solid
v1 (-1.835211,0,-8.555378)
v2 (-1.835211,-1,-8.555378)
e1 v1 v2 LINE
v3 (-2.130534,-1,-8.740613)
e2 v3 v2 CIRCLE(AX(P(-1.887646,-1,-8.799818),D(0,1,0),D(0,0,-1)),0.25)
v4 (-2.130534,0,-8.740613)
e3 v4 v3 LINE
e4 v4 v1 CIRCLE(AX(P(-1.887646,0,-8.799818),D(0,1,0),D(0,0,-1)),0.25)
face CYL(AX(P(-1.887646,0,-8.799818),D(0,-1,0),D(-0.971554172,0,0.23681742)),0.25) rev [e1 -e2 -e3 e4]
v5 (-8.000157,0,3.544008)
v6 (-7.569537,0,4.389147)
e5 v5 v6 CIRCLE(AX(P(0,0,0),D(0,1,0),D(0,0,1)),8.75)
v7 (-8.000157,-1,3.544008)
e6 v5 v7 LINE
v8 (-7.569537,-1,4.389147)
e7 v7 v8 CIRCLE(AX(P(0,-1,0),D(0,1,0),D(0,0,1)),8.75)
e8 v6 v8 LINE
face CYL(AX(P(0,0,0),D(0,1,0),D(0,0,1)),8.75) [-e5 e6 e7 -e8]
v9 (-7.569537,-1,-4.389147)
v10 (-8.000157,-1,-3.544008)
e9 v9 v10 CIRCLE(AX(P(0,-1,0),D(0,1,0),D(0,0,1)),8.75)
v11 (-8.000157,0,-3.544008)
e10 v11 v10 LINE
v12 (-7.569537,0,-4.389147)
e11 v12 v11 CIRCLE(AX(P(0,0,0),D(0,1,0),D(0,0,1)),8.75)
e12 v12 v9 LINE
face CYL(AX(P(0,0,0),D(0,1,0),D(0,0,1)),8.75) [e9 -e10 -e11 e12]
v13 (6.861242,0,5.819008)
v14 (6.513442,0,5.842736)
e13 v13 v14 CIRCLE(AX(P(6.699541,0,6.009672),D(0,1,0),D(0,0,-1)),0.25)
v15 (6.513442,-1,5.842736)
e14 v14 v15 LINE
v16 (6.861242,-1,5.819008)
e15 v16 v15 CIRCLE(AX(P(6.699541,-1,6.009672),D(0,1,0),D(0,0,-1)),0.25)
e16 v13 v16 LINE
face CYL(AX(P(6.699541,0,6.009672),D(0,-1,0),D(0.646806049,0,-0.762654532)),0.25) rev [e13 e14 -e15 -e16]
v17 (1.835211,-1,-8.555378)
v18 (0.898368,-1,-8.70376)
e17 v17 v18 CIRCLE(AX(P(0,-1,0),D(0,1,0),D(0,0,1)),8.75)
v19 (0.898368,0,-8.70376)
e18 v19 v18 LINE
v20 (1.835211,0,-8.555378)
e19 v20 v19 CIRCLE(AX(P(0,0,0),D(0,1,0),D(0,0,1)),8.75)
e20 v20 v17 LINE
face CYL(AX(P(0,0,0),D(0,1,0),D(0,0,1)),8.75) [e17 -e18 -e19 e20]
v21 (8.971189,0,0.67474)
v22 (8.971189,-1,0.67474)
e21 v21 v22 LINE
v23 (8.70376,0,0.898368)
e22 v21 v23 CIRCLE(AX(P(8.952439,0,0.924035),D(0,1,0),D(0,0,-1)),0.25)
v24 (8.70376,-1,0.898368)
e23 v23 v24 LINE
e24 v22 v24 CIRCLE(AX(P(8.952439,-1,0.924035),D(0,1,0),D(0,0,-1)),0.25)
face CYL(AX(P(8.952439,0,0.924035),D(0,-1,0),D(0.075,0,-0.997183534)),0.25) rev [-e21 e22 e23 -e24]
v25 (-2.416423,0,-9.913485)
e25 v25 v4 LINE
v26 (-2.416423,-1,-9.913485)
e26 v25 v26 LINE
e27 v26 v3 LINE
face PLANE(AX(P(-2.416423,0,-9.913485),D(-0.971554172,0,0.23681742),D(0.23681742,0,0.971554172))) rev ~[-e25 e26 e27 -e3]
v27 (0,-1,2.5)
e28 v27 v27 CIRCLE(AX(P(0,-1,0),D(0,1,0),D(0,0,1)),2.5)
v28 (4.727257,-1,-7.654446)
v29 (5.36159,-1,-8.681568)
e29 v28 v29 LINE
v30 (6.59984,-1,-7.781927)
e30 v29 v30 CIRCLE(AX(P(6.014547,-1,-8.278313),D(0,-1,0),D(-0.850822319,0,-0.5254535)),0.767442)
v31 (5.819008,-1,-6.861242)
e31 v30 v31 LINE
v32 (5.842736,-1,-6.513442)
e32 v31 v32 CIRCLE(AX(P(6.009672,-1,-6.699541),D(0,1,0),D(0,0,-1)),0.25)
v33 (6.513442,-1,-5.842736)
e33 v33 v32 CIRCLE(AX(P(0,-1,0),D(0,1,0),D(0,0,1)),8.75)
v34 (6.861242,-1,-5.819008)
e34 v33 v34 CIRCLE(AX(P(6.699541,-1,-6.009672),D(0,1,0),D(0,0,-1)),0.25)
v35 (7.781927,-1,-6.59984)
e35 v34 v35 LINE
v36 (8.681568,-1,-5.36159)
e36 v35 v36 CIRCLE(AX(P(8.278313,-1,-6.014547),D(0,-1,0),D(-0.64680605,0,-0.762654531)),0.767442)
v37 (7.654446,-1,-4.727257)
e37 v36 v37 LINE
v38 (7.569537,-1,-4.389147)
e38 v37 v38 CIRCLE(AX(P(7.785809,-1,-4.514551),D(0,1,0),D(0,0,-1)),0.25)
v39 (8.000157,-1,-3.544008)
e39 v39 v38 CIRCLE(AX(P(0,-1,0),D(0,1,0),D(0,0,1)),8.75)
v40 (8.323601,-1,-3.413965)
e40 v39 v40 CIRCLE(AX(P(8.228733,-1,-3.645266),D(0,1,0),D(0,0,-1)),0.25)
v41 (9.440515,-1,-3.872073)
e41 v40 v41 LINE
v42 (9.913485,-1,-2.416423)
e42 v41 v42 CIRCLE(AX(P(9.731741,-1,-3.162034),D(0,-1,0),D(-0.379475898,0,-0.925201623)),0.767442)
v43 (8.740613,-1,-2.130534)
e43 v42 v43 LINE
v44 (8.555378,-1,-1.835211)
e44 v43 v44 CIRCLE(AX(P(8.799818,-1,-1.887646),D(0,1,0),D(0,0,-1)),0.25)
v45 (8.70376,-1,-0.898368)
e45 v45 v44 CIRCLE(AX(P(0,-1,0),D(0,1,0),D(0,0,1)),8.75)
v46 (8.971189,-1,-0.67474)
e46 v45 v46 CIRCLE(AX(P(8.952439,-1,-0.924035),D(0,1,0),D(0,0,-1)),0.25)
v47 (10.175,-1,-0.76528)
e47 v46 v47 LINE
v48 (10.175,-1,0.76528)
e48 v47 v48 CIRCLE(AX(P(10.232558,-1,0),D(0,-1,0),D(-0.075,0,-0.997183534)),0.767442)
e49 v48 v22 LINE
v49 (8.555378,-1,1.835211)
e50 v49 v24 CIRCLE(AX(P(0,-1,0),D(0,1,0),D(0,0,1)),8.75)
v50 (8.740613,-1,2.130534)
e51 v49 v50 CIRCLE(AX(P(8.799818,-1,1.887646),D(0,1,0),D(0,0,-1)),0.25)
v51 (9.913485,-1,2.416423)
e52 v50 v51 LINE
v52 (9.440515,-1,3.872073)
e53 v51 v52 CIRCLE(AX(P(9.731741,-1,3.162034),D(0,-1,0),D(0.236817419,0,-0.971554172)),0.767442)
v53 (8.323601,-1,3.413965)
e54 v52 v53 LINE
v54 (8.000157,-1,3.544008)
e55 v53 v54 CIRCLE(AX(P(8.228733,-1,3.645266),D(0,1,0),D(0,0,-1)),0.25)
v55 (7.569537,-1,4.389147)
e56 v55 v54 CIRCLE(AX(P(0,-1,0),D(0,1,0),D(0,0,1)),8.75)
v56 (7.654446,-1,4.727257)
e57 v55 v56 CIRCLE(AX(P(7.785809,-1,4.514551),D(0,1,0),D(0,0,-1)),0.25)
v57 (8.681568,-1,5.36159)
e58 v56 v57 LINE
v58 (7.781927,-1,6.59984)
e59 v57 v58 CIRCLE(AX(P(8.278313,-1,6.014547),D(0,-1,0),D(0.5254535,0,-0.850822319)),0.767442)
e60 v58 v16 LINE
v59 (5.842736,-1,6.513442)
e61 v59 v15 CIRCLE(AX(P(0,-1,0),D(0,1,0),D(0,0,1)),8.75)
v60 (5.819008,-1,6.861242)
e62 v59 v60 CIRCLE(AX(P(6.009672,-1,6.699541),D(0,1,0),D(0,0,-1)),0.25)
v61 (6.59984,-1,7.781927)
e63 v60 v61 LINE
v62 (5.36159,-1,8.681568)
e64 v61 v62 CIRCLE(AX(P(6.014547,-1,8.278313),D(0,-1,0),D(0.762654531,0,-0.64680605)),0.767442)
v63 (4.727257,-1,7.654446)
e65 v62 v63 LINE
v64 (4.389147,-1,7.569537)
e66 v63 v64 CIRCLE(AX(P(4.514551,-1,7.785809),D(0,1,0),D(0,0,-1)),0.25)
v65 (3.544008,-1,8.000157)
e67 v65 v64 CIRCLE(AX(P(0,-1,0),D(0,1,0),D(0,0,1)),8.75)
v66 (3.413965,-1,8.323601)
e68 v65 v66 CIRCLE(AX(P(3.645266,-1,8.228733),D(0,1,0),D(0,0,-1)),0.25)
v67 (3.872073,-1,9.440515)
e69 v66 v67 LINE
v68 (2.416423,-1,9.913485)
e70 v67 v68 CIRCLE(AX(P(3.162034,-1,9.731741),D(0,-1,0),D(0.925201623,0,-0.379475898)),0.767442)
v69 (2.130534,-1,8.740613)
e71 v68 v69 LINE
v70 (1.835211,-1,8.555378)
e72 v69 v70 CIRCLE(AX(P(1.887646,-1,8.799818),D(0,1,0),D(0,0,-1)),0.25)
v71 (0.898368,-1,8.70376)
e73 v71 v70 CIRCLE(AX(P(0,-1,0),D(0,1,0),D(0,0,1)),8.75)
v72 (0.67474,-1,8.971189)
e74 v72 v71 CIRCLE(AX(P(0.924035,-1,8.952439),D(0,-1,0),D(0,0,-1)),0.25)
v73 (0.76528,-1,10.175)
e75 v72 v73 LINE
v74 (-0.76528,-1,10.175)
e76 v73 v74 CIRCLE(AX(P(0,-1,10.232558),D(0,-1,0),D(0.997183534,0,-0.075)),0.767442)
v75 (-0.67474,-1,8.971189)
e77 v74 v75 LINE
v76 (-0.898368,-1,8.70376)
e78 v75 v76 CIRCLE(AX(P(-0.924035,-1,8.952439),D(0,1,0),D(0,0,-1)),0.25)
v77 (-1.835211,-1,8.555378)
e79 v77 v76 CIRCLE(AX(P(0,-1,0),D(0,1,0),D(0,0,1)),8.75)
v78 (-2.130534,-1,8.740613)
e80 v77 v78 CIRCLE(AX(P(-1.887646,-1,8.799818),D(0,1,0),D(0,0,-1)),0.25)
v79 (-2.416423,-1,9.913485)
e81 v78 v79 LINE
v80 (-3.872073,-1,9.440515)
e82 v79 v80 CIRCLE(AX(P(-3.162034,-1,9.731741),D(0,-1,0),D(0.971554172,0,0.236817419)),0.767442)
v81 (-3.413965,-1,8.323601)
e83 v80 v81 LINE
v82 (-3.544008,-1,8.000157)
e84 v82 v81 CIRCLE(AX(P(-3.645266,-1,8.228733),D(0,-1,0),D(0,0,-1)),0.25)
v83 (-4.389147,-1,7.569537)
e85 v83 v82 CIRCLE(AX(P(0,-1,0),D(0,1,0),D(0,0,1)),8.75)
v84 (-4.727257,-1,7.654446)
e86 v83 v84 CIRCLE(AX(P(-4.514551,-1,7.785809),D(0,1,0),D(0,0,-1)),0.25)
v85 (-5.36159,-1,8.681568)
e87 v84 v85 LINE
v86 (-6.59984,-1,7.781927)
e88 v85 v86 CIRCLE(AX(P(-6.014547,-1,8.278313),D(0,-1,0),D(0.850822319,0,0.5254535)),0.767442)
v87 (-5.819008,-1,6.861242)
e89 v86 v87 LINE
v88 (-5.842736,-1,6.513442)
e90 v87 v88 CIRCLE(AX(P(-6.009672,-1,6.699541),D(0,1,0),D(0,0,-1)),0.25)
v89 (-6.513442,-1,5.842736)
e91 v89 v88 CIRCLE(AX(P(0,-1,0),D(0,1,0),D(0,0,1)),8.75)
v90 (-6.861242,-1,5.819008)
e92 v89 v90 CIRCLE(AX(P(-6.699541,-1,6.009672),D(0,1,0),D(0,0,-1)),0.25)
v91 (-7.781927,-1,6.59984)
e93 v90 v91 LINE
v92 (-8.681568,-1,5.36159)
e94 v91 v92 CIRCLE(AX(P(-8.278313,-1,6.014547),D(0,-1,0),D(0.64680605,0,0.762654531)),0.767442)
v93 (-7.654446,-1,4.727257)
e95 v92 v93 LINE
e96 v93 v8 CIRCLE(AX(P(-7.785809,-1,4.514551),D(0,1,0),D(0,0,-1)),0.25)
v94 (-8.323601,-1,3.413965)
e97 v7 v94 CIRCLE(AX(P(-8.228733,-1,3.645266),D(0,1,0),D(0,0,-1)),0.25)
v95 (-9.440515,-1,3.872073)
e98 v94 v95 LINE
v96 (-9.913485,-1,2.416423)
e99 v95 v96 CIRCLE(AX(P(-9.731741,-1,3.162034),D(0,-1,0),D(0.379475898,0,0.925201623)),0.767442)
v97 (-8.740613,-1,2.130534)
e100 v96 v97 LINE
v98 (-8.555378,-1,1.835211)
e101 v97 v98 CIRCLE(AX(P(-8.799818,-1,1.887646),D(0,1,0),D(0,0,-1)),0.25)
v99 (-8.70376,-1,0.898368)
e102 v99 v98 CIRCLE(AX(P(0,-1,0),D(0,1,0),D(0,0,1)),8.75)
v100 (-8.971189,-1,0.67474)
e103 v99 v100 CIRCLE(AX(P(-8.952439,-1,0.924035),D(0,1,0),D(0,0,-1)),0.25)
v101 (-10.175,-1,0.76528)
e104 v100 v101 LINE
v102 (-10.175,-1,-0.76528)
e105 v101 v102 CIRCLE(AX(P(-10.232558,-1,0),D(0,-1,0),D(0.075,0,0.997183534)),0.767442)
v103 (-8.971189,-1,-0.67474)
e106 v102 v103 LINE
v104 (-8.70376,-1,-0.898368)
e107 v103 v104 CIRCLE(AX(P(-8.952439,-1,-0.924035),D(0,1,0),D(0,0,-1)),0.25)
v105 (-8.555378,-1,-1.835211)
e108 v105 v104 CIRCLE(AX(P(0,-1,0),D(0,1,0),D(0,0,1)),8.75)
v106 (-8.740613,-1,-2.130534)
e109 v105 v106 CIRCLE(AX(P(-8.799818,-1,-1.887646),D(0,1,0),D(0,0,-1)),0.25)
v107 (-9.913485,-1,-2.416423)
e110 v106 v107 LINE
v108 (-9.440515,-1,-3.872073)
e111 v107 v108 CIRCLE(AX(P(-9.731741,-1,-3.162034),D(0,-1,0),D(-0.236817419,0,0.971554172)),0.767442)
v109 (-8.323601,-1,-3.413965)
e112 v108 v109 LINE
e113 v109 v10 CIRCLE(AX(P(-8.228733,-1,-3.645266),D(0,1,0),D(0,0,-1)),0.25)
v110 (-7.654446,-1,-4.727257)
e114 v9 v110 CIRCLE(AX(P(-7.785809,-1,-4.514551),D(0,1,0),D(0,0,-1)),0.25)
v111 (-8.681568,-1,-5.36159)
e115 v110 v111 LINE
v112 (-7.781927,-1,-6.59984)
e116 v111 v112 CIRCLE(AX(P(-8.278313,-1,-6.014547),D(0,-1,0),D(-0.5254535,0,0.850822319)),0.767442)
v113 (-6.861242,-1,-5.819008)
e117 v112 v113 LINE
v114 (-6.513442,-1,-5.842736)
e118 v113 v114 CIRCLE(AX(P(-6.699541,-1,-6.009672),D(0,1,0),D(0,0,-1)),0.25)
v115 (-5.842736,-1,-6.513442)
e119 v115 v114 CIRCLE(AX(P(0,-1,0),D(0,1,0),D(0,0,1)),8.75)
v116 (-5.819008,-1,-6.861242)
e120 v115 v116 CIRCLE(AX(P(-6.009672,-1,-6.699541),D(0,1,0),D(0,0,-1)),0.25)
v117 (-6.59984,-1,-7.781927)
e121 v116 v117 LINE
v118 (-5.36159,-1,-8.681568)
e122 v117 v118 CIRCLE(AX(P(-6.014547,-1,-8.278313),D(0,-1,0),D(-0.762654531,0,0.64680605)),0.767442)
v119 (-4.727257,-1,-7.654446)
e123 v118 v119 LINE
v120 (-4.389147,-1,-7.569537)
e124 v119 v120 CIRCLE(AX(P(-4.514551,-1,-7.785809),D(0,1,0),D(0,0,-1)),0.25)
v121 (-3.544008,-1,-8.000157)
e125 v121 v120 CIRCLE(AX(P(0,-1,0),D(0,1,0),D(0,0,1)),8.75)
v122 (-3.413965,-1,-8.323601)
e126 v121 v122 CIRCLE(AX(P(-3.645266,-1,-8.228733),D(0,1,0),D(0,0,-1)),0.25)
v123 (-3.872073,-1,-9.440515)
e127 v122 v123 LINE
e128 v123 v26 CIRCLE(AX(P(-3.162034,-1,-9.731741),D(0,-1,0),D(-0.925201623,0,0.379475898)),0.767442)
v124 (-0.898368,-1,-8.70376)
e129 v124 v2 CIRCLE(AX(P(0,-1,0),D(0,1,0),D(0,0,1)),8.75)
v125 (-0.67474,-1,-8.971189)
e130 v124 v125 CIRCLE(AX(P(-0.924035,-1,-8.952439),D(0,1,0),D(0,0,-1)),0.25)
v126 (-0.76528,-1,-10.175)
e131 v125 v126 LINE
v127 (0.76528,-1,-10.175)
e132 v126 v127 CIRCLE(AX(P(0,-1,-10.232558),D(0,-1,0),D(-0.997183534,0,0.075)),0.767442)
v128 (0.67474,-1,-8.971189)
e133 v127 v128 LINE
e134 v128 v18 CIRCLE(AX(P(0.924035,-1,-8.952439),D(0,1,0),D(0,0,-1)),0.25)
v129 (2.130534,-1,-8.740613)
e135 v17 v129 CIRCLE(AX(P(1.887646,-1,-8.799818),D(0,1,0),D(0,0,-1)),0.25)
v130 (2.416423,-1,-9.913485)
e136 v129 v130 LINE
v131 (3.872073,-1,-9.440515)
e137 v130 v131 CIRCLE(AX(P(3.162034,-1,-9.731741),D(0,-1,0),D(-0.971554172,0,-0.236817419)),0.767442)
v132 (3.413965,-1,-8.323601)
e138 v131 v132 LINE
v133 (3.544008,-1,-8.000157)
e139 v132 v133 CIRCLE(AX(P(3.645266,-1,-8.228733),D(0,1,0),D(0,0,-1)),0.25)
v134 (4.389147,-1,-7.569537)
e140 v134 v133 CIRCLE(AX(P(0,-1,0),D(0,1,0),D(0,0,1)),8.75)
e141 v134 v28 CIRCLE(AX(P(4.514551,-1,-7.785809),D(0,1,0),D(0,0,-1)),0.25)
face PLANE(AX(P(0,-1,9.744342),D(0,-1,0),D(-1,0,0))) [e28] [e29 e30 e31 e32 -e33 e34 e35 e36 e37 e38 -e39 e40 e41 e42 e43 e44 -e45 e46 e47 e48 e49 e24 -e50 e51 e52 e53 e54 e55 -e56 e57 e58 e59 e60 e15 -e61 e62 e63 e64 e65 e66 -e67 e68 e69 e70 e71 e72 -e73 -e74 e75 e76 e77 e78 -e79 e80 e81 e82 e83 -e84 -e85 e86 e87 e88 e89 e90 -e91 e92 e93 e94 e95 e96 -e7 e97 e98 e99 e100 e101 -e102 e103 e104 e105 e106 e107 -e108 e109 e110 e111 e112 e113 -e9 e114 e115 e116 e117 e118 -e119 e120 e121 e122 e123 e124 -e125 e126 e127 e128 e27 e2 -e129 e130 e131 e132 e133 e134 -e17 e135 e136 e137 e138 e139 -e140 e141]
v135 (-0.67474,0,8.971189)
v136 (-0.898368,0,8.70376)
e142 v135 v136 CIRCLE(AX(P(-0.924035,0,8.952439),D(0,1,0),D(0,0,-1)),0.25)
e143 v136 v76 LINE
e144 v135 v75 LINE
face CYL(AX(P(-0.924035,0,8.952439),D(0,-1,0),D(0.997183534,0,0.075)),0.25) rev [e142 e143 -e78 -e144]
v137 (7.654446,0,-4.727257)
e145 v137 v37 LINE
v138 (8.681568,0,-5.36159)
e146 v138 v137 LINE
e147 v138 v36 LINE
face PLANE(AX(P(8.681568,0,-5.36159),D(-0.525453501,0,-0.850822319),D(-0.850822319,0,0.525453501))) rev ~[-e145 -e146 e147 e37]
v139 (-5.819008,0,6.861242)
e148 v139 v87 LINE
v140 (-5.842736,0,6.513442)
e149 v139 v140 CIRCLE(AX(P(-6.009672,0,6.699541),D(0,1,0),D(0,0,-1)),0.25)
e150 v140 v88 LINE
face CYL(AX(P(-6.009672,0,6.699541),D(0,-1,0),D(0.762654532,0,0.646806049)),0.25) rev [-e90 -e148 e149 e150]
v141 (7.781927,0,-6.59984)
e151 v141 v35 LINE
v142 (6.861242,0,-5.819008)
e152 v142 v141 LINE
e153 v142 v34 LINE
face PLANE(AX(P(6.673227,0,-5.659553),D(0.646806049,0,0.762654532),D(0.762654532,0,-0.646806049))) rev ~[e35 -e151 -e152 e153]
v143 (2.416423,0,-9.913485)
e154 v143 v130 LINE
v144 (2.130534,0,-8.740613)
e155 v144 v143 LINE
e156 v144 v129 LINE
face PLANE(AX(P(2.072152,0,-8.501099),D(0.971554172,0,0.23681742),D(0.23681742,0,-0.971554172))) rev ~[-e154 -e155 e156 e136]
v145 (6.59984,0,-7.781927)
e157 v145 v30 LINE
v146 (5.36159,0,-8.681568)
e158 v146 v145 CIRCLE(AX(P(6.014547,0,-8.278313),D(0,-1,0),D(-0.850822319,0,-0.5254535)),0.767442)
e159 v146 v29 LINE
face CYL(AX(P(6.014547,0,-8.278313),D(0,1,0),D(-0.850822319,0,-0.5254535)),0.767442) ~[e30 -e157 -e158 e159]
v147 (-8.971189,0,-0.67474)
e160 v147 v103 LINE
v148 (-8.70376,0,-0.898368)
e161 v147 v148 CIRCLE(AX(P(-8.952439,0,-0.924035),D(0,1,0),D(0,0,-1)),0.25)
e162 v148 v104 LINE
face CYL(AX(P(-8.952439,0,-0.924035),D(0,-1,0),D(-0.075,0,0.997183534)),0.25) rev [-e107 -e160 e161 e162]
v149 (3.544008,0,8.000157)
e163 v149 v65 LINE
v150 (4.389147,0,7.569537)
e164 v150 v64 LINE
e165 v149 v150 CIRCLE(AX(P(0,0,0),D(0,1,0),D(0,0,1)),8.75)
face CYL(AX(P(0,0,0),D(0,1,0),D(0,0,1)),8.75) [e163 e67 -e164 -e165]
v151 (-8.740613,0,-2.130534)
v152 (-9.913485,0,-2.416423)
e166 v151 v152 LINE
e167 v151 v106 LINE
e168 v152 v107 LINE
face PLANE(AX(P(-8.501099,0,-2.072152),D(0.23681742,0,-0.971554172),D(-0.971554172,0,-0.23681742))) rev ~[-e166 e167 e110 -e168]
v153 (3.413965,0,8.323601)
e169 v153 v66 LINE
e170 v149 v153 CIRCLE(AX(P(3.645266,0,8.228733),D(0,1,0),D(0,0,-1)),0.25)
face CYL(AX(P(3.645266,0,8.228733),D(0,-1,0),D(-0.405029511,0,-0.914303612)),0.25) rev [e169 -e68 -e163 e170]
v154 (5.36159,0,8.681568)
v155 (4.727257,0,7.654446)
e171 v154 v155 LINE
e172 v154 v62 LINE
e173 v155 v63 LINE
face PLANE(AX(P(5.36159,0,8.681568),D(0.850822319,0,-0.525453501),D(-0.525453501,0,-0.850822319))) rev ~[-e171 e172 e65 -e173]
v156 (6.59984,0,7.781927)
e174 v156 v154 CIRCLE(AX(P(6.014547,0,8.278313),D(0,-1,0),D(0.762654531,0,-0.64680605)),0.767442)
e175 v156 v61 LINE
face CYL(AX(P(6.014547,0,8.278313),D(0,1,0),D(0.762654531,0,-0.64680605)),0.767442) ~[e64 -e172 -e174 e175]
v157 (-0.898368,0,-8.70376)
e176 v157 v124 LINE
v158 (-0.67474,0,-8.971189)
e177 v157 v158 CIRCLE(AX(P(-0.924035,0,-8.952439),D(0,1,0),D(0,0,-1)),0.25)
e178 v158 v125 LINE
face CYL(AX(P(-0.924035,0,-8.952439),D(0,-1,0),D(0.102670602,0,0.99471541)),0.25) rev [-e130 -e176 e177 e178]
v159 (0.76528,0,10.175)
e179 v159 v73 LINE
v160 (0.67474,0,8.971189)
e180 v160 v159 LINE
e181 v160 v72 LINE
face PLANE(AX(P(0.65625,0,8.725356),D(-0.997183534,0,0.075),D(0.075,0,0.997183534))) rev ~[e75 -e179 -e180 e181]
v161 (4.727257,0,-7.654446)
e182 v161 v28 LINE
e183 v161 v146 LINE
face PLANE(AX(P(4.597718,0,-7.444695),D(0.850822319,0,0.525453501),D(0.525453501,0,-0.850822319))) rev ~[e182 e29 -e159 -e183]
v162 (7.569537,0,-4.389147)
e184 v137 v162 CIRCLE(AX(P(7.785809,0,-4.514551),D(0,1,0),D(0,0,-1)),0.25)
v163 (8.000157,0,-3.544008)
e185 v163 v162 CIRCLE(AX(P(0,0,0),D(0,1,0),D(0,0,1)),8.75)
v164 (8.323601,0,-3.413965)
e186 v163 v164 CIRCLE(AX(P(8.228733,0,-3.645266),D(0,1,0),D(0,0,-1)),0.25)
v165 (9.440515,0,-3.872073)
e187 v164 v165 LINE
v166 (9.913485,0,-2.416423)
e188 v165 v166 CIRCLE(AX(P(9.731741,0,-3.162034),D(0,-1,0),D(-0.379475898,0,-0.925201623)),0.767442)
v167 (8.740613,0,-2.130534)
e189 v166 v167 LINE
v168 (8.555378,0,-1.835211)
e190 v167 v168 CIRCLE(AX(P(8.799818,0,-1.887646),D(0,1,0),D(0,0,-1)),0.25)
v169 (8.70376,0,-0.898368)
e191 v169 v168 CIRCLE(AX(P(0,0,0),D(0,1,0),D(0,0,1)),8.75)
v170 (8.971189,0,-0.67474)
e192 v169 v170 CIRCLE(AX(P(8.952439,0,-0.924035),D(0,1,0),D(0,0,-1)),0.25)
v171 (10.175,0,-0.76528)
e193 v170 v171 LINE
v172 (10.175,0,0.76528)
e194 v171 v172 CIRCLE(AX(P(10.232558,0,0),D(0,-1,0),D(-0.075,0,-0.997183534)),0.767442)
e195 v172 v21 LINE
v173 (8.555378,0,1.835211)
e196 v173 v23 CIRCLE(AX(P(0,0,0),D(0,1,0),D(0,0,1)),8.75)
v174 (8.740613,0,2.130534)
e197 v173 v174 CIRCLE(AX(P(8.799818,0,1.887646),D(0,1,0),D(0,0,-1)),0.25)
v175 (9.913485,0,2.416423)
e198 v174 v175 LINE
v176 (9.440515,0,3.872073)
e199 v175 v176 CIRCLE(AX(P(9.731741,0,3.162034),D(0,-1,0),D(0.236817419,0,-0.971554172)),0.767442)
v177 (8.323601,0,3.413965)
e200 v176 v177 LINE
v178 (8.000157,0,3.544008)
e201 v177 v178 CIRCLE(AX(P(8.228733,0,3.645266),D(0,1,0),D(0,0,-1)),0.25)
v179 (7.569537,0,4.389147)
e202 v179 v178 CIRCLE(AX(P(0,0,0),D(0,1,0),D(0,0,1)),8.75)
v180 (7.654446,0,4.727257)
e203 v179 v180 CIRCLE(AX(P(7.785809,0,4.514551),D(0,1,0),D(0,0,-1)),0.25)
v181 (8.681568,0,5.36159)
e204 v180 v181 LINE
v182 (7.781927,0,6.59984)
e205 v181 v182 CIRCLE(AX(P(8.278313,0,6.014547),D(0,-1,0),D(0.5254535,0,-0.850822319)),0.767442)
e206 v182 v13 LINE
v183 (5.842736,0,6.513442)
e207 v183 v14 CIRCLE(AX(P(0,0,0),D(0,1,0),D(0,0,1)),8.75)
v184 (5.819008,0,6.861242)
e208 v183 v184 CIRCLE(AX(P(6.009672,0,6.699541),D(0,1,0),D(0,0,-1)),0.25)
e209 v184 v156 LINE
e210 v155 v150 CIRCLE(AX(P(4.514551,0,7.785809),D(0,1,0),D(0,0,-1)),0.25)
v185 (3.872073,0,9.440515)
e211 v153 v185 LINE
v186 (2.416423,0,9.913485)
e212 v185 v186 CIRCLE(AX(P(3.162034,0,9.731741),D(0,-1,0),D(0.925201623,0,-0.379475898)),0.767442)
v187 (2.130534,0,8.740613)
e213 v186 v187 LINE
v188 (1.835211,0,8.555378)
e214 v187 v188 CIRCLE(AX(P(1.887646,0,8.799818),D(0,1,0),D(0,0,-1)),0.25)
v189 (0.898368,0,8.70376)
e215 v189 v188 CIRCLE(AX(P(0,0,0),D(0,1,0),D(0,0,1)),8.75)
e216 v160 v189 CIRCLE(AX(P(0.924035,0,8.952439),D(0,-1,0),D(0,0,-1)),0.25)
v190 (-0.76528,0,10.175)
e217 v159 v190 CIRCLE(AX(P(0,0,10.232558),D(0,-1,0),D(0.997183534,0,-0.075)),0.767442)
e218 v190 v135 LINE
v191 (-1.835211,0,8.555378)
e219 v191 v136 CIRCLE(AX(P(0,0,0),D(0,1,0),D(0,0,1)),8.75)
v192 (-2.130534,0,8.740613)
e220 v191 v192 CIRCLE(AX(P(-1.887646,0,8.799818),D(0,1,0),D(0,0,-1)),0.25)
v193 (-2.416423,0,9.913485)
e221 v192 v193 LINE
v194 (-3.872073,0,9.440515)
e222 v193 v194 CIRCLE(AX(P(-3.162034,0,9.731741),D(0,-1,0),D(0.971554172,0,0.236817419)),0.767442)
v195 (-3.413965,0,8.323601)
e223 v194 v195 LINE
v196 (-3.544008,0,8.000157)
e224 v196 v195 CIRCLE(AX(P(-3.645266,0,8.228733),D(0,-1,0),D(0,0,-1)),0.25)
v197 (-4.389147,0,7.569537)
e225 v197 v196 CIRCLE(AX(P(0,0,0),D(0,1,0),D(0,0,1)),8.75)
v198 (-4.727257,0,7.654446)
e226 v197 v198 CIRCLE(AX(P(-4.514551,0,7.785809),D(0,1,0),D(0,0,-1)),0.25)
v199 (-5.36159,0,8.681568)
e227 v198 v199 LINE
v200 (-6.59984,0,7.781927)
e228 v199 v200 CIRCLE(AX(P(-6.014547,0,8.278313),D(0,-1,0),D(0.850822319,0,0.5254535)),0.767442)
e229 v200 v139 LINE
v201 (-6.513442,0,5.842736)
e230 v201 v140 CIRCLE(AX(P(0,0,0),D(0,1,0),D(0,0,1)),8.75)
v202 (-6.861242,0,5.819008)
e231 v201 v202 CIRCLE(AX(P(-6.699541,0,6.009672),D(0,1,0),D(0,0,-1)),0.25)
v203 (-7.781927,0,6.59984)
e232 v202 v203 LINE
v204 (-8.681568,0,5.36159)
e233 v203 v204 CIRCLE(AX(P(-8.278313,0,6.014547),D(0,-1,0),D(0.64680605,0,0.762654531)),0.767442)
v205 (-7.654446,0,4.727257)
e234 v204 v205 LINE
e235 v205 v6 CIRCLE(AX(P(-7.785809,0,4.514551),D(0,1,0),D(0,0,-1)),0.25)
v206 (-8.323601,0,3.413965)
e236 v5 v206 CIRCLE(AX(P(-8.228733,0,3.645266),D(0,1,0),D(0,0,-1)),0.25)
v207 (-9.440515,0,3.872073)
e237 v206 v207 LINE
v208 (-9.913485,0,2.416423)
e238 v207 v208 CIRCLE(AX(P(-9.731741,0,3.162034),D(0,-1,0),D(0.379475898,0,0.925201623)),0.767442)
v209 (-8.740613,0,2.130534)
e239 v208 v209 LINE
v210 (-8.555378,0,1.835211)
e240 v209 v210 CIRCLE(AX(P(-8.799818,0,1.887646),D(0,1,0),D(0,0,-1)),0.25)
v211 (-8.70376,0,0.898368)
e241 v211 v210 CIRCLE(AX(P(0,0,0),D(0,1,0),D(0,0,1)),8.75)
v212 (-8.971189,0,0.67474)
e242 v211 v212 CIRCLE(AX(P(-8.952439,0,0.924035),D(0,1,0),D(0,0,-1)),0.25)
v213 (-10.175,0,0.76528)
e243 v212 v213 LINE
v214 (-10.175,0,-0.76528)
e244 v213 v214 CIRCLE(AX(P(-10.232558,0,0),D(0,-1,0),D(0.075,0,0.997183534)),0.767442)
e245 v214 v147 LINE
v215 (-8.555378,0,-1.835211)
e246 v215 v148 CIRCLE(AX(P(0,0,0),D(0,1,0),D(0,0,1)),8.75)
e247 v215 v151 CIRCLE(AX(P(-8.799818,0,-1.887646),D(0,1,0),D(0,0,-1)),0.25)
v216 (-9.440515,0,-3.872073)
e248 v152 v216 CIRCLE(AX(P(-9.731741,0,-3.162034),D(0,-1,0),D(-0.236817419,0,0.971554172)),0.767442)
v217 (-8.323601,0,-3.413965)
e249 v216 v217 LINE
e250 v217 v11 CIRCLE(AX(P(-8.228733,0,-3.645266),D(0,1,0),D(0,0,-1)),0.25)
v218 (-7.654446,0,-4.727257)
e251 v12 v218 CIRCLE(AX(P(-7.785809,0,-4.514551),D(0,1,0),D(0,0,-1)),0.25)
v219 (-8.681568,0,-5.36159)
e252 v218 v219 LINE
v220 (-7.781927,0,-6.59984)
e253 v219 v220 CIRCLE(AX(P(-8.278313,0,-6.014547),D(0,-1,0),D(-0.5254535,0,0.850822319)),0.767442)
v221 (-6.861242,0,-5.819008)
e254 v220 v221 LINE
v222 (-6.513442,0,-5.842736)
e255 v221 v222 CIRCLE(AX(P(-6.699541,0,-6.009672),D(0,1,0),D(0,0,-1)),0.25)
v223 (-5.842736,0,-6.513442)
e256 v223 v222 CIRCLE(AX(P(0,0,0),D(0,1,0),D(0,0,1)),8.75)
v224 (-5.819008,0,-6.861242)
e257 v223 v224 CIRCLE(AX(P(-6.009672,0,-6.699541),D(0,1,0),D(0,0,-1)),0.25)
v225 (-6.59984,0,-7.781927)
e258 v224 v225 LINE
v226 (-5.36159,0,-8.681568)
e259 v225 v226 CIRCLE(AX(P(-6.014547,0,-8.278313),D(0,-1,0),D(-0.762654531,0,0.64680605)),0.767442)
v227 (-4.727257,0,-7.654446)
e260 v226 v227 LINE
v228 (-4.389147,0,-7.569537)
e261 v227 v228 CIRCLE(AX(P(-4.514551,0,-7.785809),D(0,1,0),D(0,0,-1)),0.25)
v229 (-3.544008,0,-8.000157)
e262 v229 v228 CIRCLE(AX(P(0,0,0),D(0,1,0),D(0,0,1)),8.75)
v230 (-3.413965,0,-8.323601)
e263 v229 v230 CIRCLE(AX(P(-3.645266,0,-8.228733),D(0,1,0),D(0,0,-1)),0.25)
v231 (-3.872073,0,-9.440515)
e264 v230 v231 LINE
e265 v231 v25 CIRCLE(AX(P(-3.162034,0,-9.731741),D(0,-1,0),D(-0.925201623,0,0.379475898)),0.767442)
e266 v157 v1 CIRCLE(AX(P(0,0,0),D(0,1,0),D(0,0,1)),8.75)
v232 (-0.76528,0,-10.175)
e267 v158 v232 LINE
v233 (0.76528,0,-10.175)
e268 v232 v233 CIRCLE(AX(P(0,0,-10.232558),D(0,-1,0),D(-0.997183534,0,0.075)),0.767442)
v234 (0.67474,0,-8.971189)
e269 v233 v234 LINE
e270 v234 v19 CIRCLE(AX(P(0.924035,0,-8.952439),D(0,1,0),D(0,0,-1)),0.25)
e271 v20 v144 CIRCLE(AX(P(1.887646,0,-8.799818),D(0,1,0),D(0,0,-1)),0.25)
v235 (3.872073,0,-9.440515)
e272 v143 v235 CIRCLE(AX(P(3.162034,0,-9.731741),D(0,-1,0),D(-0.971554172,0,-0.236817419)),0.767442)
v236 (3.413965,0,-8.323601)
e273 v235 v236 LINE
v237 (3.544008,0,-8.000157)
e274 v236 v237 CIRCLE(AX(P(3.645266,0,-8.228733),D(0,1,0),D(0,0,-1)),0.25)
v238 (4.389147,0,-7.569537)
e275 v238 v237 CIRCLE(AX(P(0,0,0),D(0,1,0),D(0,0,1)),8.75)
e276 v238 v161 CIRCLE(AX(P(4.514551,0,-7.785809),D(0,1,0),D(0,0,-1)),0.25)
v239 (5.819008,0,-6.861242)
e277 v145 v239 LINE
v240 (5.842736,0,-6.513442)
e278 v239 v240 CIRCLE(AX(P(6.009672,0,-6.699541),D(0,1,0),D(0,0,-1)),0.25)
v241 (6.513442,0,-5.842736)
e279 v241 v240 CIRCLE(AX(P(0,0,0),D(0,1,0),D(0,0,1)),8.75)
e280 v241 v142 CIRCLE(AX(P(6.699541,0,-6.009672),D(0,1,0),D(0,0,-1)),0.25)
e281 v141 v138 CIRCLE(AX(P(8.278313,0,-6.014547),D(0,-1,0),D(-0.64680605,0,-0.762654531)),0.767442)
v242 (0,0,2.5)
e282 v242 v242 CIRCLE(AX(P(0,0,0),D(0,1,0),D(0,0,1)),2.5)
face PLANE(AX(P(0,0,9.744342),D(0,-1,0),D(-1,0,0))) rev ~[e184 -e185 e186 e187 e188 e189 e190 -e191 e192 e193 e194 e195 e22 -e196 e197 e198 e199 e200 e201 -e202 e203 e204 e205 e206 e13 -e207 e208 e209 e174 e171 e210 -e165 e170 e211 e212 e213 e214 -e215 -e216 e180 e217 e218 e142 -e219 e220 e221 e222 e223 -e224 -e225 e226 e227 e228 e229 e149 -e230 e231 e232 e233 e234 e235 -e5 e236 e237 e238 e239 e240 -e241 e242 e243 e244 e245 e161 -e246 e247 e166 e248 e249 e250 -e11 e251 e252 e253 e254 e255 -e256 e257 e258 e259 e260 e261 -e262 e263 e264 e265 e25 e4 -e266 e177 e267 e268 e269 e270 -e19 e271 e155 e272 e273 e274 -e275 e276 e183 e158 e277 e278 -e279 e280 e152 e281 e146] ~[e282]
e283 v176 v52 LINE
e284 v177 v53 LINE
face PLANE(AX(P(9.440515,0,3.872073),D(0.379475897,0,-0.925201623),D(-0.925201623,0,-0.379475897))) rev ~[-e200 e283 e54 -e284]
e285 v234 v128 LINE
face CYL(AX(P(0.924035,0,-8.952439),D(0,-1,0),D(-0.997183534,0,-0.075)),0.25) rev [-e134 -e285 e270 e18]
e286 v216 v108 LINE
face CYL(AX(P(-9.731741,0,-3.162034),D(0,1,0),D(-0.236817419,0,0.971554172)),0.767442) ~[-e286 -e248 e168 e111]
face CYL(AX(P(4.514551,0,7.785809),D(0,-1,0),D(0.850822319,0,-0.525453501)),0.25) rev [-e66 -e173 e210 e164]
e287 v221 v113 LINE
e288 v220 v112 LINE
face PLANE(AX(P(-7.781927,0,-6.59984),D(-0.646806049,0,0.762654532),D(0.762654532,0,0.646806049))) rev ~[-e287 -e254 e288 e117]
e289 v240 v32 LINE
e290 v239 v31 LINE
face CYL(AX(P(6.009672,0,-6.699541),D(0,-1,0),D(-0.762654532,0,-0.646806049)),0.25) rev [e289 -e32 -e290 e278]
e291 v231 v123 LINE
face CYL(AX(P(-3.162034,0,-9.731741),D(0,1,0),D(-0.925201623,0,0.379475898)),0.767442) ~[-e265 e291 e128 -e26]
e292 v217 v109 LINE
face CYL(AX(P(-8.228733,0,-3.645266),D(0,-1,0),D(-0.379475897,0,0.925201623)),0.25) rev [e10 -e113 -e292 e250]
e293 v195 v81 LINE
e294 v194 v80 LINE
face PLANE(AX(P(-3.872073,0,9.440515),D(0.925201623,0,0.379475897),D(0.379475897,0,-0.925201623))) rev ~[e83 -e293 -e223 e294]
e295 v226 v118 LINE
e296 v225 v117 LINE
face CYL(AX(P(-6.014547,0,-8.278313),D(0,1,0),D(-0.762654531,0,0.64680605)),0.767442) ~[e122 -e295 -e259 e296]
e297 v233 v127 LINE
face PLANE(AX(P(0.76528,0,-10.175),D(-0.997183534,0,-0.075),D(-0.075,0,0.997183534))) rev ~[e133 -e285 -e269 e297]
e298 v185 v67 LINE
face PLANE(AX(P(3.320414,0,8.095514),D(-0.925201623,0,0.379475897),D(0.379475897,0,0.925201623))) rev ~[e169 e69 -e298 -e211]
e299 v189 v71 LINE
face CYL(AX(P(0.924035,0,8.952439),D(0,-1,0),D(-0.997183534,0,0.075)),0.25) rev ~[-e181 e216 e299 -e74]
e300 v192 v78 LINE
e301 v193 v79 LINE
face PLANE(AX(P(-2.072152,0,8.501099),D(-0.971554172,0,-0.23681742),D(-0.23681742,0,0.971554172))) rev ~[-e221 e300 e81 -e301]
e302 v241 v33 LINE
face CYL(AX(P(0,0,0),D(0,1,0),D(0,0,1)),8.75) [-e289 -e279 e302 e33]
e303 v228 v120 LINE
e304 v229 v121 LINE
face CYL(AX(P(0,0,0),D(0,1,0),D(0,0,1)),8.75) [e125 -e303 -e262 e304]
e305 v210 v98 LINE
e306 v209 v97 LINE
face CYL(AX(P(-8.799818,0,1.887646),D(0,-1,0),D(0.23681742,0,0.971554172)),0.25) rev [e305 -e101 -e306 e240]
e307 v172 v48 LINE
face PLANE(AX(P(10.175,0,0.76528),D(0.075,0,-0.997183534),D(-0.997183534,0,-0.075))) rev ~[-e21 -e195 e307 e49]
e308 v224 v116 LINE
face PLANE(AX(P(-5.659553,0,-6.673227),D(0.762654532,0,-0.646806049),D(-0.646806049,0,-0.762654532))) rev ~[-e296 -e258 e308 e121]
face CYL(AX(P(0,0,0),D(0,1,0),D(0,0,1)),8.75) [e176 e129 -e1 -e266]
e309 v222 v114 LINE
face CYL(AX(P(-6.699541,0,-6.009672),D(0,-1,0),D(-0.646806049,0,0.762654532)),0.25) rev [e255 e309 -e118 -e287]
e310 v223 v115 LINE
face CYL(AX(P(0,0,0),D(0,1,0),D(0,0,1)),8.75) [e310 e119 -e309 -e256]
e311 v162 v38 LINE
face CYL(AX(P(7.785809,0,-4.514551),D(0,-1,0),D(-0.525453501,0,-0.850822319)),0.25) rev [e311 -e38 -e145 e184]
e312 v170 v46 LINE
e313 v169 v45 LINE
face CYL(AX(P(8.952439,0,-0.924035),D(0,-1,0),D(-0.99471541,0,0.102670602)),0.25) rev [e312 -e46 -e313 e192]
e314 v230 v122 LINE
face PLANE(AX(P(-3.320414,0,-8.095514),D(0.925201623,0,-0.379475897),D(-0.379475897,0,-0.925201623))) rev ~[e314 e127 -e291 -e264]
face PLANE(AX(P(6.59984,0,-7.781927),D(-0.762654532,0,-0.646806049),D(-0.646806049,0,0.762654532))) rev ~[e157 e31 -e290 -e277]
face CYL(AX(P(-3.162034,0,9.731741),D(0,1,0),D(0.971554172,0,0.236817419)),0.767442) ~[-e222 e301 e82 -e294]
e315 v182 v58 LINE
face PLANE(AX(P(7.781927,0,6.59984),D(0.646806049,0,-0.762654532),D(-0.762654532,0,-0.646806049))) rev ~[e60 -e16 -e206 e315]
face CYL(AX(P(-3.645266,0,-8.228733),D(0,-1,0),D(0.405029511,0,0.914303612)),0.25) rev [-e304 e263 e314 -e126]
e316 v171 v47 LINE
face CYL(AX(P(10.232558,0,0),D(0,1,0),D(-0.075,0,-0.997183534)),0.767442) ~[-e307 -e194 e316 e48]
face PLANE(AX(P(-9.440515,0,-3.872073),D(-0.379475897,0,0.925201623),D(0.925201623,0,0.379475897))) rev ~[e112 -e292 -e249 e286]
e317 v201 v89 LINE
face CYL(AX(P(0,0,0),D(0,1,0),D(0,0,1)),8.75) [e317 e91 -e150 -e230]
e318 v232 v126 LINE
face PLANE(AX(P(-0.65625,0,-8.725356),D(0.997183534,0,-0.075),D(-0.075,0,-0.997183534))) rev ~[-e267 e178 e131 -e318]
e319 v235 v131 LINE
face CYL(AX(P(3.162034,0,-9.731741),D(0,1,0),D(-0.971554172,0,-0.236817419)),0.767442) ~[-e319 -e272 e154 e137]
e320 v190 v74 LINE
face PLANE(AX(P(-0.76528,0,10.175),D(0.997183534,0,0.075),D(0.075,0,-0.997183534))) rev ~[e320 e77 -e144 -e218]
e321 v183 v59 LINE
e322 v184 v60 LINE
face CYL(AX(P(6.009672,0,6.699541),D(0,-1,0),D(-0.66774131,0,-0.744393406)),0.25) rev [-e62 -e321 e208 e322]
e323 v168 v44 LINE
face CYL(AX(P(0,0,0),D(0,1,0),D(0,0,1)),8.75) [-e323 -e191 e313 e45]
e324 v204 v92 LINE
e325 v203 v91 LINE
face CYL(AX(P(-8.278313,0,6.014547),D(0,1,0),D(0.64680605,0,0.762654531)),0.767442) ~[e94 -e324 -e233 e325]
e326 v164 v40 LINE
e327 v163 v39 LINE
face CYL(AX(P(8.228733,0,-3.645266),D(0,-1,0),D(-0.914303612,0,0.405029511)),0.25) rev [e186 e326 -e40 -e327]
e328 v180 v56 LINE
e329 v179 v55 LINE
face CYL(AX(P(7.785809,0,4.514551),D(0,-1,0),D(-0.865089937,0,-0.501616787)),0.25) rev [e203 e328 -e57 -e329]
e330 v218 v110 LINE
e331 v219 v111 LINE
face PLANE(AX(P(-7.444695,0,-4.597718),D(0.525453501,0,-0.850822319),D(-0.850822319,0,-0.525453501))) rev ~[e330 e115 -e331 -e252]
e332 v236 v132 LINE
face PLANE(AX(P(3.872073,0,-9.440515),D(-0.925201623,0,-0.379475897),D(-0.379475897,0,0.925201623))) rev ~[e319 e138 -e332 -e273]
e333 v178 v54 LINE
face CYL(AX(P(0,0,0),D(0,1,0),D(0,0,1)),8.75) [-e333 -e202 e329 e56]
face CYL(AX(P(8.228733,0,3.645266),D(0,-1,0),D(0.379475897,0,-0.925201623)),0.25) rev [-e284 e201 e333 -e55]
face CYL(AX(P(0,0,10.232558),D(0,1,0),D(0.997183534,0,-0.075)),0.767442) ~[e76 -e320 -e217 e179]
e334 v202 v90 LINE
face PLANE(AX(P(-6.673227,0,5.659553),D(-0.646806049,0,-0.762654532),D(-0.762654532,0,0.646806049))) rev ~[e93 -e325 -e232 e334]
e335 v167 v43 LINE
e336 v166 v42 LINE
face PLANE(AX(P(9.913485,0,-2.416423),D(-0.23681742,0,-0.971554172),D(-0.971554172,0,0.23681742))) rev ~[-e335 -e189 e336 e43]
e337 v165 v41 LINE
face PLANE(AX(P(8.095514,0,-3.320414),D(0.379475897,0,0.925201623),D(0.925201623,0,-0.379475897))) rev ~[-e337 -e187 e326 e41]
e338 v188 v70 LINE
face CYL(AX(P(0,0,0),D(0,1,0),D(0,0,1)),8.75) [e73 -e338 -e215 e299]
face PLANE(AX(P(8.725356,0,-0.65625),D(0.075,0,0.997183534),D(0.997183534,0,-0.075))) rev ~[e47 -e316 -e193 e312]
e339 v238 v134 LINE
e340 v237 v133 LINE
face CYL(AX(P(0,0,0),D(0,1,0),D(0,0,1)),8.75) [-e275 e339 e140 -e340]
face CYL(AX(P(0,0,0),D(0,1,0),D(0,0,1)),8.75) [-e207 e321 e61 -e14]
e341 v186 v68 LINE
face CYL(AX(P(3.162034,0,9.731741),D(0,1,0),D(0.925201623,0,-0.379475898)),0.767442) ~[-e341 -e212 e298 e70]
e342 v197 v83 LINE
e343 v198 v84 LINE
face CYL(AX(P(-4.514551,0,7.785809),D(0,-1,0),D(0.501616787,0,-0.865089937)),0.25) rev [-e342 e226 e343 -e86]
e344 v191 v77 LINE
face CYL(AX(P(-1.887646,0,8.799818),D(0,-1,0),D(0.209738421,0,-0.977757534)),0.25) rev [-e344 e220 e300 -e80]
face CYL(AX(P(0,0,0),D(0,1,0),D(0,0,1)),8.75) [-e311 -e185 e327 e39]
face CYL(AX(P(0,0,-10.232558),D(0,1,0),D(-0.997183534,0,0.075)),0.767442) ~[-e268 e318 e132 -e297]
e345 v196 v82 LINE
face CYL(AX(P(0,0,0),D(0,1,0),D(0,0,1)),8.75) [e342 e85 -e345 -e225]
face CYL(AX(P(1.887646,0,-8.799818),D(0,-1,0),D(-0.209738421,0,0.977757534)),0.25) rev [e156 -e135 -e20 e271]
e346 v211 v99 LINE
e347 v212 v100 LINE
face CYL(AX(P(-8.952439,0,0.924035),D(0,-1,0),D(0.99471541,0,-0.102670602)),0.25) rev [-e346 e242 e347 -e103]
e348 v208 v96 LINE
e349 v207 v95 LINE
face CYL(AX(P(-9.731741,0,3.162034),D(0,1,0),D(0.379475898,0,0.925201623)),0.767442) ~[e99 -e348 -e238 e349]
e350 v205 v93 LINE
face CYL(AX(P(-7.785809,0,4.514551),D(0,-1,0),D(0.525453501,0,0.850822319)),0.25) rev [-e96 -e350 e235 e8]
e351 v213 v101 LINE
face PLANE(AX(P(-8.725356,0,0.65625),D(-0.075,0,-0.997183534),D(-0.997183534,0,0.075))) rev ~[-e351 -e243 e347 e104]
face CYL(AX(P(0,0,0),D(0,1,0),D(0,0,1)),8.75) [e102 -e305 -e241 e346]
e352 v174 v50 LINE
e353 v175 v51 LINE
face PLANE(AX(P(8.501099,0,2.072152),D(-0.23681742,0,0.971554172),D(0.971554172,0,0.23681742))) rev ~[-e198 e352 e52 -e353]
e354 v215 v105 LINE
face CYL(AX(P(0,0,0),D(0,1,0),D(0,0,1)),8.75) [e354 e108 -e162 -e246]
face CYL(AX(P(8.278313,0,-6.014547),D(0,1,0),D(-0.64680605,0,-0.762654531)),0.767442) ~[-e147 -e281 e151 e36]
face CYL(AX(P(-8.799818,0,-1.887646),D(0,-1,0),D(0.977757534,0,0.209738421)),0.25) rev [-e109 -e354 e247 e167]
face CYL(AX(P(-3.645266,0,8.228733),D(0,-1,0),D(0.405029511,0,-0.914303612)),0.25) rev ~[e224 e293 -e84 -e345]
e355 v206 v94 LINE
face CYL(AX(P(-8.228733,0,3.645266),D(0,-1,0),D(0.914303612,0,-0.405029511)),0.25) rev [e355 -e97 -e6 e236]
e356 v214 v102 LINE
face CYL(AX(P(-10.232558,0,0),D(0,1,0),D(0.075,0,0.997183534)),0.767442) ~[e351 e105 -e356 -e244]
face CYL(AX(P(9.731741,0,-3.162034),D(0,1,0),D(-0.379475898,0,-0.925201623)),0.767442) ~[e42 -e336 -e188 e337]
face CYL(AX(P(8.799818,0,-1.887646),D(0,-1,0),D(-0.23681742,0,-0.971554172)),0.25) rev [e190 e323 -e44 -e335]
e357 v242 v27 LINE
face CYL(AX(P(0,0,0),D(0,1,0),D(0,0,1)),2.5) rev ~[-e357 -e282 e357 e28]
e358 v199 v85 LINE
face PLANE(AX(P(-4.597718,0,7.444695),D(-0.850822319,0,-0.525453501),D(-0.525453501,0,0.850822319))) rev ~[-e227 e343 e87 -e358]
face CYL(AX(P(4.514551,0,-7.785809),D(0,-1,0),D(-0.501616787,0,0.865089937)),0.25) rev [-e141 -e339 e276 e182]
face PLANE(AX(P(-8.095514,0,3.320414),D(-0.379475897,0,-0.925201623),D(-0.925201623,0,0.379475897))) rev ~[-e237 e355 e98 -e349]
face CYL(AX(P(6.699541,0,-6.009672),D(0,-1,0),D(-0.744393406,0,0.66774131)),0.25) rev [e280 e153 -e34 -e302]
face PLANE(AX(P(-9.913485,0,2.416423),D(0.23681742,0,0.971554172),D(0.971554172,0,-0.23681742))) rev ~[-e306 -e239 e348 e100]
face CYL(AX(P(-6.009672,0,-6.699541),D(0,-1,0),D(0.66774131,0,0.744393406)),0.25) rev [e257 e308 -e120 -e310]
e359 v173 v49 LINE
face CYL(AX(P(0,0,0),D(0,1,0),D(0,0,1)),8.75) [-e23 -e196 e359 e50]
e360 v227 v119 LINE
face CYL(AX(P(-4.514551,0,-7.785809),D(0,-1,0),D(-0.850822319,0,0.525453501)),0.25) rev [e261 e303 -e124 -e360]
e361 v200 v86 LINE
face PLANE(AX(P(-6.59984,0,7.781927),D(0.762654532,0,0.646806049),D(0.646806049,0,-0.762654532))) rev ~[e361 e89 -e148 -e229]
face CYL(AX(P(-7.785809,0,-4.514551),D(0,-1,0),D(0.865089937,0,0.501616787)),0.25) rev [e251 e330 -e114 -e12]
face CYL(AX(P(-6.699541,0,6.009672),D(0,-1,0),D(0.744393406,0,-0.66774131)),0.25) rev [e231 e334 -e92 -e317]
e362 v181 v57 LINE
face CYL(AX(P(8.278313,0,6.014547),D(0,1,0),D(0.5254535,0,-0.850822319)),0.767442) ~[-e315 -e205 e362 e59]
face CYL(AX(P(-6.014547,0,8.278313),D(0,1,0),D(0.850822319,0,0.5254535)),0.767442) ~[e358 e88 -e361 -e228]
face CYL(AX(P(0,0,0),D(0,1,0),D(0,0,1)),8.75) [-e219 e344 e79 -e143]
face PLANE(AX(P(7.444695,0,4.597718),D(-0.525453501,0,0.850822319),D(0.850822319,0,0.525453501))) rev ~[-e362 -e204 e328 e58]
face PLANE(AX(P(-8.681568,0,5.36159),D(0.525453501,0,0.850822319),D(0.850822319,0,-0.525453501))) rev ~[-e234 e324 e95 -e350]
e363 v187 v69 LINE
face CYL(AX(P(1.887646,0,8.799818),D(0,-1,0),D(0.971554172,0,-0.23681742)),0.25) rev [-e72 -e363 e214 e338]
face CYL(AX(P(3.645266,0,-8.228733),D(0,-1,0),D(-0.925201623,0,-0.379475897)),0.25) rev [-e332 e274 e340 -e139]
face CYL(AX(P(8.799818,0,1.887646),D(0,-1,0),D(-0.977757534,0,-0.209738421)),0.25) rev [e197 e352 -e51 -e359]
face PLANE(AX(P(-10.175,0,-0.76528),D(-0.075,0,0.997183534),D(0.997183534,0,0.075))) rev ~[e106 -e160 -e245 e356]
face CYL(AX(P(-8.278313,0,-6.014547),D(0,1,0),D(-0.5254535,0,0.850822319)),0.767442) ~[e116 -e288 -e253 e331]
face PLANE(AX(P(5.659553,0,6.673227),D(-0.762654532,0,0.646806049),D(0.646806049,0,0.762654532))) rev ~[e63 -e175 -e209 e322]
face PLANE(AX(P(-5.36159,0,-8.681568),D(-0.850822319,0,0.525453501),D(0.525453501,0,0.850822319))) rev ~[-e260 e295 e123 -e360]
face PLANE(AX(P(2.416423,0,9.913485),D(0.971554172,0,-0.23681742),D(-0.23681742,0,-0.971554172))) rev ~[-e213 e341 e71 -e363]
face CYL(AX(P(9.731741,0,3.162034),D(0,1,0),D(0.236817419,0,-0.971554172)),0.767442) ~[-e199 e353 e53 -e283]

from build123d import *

# Parameters (mm, degrees)
SKETCH_1_R               = 8.75
EXTRUDE_1_DEPTH          = 1
EXTRUDE_2_DEPTH          = 1
SKETCH_3_R               = 2.5
CUT_EXTRUDE_1_DEPTH      = 15.091220671
PATTERN_CIRCULAR_1_COUNT = 20
FILLET_1_R               = 0.25


with BuildPart() as part:
    # 草图1 → 凸台-拉伸1 (new body)
    with BuildSketch(Plane(origin=(0, 0, 0), x_dir=(1, 0, 0), z_dir=(0, 1, 0))):
        with Locations(Location((0, 0, 0), (0, 0, 270))):
            Circle(SKETCH_1_R)
    extrude(amount=-EXTRUDE_1_DEPTH)

    # 草图2 → 凸台-拉伸2 (add)
    with BuildSketch(Plane(origin=(0, 0, 0), x_dir=(1, 0, 0), z_dir=(0, 1, 0))):
        with BuildLine():
            Line((-0.765280386, -10.175), (-0.65625, -8.72535592))
            ThreePointArc((-0.65625, -8.72535592), (0, -8.75), (0.65625, -8.72535592))
            Line((0.65625, -8.72535592), (0.765280386, -10.175))
            ThreePointArc((0.765280386, -10.175), (0, -11), (-0.765280386, -10.175))
        make_face()
    extrude_2 = extrude(amount=-EXTRUDE_2_DEPTH)

    # 草图3 → 切除-拉伸1 (cut, through all)
    with BuildSketch(Plane(origin=(0, 0, 0), x_dir=(1, 0, 0), z_dir=(0, 1, 0))):
        with Locations(Location((0, 0, 0), (0, 0, 270))):
            Circle(SKETCH_3_R)
    extrude(amount=-CUT_EXTRUDE_1_DEPTH, mode=Mode.SUBTRACT)

    # 阵列(圆周)1: 凸台-拉伸2 ×20 about axis
    pattern_circular_1_axis = Axis((0, 0, 0), (0, 1, 0))
    for i in range(1, PATTERN_CIRCULAR_1_COUNT):
        add(extrude_2.rotate(pattern_circular_1_axis, i * 360 / PATTERN_CIRCULAR_1_COUNT))

    # 圆角1
    fillet_1_edges = [part.edges().sort_by_distance(p)[0] for p in [
        (3.3204141, -0.5, -8.095514203),
        (2.072152423, -0.5, -8.501099008),
        (0.65625, -0.5, -8.72535592),
        (-0.65625, -0.5, -8.72535592),
        (-2.072152423, -0.5, -8.501099008),
        (-3.3204141, -0.5, -8.095514203),
        (-4.597718128, -0.5, -7.444695293),
        (-5.659552934, -0.5, -6.67322715),
        (-6.67322715, -0.5, -5.659552934),
        (-7.444695293, -0.5, -4.597718128),
        (-8.095514203, -0.5, -3.3204141),
        (-8.501099008, -0.5, -2.072152423),
        (-8.72535592, -0.5, -0.65625),
        (-8.72535592, -0.5, 0.65625),
        (-8.501099008, -0.5, 2.072152423),
        (-8.095514203, -0.5, 3.3204141),
        (-7.444695293, -0.5, 4.597718128),
        (-6.67322715, -0.5, 5.659552934),
        (-5.659552934, -0.5, 6.67322715),
        (-4.597718128, -0.5, 7.444695293),
        (-3.3204141, -0.5, 8.095514203),
        (-2.072152423, -0.5, 8.501099008),
        (2.072152423, -0.5, 8.501099008),
        (3.3204141, -0.5, 8.095514203),
        (4.597718128, -0.5, 7.444695293),
        (5.659552934, -0.5, 6.67322715),
        (6.67322715, -0.5, 5.659552934),
        (7.444695293, -0.5, 4.597718128),
        (8.095514203, -0.5, 3.3204141),
        (8.501099008, -0.5, 2.072152423),
        (8.72535592, -0.5, 0.65625),
        (8.72535592, -0.5, -0.65625),
        (-0.65625, -0.5, 8.72535592),
        (0.65625, -0.5, 8.72535592),
        (8.501099008, -0.5, -2.072152423),
        (8.095514203, -0.5, -3.3204141),
        (7.444695293, -0.5, -4.597718128),
        (6.67322715, -0.5, -5.659552934),
        (5.659552934, -0.5, -6.67322715),
        (4.597718128, -0.5, -7.444695293),
    ]]
    fillet(fillet_1_edges, radius=FILLET_1_R)


solid = part.part
